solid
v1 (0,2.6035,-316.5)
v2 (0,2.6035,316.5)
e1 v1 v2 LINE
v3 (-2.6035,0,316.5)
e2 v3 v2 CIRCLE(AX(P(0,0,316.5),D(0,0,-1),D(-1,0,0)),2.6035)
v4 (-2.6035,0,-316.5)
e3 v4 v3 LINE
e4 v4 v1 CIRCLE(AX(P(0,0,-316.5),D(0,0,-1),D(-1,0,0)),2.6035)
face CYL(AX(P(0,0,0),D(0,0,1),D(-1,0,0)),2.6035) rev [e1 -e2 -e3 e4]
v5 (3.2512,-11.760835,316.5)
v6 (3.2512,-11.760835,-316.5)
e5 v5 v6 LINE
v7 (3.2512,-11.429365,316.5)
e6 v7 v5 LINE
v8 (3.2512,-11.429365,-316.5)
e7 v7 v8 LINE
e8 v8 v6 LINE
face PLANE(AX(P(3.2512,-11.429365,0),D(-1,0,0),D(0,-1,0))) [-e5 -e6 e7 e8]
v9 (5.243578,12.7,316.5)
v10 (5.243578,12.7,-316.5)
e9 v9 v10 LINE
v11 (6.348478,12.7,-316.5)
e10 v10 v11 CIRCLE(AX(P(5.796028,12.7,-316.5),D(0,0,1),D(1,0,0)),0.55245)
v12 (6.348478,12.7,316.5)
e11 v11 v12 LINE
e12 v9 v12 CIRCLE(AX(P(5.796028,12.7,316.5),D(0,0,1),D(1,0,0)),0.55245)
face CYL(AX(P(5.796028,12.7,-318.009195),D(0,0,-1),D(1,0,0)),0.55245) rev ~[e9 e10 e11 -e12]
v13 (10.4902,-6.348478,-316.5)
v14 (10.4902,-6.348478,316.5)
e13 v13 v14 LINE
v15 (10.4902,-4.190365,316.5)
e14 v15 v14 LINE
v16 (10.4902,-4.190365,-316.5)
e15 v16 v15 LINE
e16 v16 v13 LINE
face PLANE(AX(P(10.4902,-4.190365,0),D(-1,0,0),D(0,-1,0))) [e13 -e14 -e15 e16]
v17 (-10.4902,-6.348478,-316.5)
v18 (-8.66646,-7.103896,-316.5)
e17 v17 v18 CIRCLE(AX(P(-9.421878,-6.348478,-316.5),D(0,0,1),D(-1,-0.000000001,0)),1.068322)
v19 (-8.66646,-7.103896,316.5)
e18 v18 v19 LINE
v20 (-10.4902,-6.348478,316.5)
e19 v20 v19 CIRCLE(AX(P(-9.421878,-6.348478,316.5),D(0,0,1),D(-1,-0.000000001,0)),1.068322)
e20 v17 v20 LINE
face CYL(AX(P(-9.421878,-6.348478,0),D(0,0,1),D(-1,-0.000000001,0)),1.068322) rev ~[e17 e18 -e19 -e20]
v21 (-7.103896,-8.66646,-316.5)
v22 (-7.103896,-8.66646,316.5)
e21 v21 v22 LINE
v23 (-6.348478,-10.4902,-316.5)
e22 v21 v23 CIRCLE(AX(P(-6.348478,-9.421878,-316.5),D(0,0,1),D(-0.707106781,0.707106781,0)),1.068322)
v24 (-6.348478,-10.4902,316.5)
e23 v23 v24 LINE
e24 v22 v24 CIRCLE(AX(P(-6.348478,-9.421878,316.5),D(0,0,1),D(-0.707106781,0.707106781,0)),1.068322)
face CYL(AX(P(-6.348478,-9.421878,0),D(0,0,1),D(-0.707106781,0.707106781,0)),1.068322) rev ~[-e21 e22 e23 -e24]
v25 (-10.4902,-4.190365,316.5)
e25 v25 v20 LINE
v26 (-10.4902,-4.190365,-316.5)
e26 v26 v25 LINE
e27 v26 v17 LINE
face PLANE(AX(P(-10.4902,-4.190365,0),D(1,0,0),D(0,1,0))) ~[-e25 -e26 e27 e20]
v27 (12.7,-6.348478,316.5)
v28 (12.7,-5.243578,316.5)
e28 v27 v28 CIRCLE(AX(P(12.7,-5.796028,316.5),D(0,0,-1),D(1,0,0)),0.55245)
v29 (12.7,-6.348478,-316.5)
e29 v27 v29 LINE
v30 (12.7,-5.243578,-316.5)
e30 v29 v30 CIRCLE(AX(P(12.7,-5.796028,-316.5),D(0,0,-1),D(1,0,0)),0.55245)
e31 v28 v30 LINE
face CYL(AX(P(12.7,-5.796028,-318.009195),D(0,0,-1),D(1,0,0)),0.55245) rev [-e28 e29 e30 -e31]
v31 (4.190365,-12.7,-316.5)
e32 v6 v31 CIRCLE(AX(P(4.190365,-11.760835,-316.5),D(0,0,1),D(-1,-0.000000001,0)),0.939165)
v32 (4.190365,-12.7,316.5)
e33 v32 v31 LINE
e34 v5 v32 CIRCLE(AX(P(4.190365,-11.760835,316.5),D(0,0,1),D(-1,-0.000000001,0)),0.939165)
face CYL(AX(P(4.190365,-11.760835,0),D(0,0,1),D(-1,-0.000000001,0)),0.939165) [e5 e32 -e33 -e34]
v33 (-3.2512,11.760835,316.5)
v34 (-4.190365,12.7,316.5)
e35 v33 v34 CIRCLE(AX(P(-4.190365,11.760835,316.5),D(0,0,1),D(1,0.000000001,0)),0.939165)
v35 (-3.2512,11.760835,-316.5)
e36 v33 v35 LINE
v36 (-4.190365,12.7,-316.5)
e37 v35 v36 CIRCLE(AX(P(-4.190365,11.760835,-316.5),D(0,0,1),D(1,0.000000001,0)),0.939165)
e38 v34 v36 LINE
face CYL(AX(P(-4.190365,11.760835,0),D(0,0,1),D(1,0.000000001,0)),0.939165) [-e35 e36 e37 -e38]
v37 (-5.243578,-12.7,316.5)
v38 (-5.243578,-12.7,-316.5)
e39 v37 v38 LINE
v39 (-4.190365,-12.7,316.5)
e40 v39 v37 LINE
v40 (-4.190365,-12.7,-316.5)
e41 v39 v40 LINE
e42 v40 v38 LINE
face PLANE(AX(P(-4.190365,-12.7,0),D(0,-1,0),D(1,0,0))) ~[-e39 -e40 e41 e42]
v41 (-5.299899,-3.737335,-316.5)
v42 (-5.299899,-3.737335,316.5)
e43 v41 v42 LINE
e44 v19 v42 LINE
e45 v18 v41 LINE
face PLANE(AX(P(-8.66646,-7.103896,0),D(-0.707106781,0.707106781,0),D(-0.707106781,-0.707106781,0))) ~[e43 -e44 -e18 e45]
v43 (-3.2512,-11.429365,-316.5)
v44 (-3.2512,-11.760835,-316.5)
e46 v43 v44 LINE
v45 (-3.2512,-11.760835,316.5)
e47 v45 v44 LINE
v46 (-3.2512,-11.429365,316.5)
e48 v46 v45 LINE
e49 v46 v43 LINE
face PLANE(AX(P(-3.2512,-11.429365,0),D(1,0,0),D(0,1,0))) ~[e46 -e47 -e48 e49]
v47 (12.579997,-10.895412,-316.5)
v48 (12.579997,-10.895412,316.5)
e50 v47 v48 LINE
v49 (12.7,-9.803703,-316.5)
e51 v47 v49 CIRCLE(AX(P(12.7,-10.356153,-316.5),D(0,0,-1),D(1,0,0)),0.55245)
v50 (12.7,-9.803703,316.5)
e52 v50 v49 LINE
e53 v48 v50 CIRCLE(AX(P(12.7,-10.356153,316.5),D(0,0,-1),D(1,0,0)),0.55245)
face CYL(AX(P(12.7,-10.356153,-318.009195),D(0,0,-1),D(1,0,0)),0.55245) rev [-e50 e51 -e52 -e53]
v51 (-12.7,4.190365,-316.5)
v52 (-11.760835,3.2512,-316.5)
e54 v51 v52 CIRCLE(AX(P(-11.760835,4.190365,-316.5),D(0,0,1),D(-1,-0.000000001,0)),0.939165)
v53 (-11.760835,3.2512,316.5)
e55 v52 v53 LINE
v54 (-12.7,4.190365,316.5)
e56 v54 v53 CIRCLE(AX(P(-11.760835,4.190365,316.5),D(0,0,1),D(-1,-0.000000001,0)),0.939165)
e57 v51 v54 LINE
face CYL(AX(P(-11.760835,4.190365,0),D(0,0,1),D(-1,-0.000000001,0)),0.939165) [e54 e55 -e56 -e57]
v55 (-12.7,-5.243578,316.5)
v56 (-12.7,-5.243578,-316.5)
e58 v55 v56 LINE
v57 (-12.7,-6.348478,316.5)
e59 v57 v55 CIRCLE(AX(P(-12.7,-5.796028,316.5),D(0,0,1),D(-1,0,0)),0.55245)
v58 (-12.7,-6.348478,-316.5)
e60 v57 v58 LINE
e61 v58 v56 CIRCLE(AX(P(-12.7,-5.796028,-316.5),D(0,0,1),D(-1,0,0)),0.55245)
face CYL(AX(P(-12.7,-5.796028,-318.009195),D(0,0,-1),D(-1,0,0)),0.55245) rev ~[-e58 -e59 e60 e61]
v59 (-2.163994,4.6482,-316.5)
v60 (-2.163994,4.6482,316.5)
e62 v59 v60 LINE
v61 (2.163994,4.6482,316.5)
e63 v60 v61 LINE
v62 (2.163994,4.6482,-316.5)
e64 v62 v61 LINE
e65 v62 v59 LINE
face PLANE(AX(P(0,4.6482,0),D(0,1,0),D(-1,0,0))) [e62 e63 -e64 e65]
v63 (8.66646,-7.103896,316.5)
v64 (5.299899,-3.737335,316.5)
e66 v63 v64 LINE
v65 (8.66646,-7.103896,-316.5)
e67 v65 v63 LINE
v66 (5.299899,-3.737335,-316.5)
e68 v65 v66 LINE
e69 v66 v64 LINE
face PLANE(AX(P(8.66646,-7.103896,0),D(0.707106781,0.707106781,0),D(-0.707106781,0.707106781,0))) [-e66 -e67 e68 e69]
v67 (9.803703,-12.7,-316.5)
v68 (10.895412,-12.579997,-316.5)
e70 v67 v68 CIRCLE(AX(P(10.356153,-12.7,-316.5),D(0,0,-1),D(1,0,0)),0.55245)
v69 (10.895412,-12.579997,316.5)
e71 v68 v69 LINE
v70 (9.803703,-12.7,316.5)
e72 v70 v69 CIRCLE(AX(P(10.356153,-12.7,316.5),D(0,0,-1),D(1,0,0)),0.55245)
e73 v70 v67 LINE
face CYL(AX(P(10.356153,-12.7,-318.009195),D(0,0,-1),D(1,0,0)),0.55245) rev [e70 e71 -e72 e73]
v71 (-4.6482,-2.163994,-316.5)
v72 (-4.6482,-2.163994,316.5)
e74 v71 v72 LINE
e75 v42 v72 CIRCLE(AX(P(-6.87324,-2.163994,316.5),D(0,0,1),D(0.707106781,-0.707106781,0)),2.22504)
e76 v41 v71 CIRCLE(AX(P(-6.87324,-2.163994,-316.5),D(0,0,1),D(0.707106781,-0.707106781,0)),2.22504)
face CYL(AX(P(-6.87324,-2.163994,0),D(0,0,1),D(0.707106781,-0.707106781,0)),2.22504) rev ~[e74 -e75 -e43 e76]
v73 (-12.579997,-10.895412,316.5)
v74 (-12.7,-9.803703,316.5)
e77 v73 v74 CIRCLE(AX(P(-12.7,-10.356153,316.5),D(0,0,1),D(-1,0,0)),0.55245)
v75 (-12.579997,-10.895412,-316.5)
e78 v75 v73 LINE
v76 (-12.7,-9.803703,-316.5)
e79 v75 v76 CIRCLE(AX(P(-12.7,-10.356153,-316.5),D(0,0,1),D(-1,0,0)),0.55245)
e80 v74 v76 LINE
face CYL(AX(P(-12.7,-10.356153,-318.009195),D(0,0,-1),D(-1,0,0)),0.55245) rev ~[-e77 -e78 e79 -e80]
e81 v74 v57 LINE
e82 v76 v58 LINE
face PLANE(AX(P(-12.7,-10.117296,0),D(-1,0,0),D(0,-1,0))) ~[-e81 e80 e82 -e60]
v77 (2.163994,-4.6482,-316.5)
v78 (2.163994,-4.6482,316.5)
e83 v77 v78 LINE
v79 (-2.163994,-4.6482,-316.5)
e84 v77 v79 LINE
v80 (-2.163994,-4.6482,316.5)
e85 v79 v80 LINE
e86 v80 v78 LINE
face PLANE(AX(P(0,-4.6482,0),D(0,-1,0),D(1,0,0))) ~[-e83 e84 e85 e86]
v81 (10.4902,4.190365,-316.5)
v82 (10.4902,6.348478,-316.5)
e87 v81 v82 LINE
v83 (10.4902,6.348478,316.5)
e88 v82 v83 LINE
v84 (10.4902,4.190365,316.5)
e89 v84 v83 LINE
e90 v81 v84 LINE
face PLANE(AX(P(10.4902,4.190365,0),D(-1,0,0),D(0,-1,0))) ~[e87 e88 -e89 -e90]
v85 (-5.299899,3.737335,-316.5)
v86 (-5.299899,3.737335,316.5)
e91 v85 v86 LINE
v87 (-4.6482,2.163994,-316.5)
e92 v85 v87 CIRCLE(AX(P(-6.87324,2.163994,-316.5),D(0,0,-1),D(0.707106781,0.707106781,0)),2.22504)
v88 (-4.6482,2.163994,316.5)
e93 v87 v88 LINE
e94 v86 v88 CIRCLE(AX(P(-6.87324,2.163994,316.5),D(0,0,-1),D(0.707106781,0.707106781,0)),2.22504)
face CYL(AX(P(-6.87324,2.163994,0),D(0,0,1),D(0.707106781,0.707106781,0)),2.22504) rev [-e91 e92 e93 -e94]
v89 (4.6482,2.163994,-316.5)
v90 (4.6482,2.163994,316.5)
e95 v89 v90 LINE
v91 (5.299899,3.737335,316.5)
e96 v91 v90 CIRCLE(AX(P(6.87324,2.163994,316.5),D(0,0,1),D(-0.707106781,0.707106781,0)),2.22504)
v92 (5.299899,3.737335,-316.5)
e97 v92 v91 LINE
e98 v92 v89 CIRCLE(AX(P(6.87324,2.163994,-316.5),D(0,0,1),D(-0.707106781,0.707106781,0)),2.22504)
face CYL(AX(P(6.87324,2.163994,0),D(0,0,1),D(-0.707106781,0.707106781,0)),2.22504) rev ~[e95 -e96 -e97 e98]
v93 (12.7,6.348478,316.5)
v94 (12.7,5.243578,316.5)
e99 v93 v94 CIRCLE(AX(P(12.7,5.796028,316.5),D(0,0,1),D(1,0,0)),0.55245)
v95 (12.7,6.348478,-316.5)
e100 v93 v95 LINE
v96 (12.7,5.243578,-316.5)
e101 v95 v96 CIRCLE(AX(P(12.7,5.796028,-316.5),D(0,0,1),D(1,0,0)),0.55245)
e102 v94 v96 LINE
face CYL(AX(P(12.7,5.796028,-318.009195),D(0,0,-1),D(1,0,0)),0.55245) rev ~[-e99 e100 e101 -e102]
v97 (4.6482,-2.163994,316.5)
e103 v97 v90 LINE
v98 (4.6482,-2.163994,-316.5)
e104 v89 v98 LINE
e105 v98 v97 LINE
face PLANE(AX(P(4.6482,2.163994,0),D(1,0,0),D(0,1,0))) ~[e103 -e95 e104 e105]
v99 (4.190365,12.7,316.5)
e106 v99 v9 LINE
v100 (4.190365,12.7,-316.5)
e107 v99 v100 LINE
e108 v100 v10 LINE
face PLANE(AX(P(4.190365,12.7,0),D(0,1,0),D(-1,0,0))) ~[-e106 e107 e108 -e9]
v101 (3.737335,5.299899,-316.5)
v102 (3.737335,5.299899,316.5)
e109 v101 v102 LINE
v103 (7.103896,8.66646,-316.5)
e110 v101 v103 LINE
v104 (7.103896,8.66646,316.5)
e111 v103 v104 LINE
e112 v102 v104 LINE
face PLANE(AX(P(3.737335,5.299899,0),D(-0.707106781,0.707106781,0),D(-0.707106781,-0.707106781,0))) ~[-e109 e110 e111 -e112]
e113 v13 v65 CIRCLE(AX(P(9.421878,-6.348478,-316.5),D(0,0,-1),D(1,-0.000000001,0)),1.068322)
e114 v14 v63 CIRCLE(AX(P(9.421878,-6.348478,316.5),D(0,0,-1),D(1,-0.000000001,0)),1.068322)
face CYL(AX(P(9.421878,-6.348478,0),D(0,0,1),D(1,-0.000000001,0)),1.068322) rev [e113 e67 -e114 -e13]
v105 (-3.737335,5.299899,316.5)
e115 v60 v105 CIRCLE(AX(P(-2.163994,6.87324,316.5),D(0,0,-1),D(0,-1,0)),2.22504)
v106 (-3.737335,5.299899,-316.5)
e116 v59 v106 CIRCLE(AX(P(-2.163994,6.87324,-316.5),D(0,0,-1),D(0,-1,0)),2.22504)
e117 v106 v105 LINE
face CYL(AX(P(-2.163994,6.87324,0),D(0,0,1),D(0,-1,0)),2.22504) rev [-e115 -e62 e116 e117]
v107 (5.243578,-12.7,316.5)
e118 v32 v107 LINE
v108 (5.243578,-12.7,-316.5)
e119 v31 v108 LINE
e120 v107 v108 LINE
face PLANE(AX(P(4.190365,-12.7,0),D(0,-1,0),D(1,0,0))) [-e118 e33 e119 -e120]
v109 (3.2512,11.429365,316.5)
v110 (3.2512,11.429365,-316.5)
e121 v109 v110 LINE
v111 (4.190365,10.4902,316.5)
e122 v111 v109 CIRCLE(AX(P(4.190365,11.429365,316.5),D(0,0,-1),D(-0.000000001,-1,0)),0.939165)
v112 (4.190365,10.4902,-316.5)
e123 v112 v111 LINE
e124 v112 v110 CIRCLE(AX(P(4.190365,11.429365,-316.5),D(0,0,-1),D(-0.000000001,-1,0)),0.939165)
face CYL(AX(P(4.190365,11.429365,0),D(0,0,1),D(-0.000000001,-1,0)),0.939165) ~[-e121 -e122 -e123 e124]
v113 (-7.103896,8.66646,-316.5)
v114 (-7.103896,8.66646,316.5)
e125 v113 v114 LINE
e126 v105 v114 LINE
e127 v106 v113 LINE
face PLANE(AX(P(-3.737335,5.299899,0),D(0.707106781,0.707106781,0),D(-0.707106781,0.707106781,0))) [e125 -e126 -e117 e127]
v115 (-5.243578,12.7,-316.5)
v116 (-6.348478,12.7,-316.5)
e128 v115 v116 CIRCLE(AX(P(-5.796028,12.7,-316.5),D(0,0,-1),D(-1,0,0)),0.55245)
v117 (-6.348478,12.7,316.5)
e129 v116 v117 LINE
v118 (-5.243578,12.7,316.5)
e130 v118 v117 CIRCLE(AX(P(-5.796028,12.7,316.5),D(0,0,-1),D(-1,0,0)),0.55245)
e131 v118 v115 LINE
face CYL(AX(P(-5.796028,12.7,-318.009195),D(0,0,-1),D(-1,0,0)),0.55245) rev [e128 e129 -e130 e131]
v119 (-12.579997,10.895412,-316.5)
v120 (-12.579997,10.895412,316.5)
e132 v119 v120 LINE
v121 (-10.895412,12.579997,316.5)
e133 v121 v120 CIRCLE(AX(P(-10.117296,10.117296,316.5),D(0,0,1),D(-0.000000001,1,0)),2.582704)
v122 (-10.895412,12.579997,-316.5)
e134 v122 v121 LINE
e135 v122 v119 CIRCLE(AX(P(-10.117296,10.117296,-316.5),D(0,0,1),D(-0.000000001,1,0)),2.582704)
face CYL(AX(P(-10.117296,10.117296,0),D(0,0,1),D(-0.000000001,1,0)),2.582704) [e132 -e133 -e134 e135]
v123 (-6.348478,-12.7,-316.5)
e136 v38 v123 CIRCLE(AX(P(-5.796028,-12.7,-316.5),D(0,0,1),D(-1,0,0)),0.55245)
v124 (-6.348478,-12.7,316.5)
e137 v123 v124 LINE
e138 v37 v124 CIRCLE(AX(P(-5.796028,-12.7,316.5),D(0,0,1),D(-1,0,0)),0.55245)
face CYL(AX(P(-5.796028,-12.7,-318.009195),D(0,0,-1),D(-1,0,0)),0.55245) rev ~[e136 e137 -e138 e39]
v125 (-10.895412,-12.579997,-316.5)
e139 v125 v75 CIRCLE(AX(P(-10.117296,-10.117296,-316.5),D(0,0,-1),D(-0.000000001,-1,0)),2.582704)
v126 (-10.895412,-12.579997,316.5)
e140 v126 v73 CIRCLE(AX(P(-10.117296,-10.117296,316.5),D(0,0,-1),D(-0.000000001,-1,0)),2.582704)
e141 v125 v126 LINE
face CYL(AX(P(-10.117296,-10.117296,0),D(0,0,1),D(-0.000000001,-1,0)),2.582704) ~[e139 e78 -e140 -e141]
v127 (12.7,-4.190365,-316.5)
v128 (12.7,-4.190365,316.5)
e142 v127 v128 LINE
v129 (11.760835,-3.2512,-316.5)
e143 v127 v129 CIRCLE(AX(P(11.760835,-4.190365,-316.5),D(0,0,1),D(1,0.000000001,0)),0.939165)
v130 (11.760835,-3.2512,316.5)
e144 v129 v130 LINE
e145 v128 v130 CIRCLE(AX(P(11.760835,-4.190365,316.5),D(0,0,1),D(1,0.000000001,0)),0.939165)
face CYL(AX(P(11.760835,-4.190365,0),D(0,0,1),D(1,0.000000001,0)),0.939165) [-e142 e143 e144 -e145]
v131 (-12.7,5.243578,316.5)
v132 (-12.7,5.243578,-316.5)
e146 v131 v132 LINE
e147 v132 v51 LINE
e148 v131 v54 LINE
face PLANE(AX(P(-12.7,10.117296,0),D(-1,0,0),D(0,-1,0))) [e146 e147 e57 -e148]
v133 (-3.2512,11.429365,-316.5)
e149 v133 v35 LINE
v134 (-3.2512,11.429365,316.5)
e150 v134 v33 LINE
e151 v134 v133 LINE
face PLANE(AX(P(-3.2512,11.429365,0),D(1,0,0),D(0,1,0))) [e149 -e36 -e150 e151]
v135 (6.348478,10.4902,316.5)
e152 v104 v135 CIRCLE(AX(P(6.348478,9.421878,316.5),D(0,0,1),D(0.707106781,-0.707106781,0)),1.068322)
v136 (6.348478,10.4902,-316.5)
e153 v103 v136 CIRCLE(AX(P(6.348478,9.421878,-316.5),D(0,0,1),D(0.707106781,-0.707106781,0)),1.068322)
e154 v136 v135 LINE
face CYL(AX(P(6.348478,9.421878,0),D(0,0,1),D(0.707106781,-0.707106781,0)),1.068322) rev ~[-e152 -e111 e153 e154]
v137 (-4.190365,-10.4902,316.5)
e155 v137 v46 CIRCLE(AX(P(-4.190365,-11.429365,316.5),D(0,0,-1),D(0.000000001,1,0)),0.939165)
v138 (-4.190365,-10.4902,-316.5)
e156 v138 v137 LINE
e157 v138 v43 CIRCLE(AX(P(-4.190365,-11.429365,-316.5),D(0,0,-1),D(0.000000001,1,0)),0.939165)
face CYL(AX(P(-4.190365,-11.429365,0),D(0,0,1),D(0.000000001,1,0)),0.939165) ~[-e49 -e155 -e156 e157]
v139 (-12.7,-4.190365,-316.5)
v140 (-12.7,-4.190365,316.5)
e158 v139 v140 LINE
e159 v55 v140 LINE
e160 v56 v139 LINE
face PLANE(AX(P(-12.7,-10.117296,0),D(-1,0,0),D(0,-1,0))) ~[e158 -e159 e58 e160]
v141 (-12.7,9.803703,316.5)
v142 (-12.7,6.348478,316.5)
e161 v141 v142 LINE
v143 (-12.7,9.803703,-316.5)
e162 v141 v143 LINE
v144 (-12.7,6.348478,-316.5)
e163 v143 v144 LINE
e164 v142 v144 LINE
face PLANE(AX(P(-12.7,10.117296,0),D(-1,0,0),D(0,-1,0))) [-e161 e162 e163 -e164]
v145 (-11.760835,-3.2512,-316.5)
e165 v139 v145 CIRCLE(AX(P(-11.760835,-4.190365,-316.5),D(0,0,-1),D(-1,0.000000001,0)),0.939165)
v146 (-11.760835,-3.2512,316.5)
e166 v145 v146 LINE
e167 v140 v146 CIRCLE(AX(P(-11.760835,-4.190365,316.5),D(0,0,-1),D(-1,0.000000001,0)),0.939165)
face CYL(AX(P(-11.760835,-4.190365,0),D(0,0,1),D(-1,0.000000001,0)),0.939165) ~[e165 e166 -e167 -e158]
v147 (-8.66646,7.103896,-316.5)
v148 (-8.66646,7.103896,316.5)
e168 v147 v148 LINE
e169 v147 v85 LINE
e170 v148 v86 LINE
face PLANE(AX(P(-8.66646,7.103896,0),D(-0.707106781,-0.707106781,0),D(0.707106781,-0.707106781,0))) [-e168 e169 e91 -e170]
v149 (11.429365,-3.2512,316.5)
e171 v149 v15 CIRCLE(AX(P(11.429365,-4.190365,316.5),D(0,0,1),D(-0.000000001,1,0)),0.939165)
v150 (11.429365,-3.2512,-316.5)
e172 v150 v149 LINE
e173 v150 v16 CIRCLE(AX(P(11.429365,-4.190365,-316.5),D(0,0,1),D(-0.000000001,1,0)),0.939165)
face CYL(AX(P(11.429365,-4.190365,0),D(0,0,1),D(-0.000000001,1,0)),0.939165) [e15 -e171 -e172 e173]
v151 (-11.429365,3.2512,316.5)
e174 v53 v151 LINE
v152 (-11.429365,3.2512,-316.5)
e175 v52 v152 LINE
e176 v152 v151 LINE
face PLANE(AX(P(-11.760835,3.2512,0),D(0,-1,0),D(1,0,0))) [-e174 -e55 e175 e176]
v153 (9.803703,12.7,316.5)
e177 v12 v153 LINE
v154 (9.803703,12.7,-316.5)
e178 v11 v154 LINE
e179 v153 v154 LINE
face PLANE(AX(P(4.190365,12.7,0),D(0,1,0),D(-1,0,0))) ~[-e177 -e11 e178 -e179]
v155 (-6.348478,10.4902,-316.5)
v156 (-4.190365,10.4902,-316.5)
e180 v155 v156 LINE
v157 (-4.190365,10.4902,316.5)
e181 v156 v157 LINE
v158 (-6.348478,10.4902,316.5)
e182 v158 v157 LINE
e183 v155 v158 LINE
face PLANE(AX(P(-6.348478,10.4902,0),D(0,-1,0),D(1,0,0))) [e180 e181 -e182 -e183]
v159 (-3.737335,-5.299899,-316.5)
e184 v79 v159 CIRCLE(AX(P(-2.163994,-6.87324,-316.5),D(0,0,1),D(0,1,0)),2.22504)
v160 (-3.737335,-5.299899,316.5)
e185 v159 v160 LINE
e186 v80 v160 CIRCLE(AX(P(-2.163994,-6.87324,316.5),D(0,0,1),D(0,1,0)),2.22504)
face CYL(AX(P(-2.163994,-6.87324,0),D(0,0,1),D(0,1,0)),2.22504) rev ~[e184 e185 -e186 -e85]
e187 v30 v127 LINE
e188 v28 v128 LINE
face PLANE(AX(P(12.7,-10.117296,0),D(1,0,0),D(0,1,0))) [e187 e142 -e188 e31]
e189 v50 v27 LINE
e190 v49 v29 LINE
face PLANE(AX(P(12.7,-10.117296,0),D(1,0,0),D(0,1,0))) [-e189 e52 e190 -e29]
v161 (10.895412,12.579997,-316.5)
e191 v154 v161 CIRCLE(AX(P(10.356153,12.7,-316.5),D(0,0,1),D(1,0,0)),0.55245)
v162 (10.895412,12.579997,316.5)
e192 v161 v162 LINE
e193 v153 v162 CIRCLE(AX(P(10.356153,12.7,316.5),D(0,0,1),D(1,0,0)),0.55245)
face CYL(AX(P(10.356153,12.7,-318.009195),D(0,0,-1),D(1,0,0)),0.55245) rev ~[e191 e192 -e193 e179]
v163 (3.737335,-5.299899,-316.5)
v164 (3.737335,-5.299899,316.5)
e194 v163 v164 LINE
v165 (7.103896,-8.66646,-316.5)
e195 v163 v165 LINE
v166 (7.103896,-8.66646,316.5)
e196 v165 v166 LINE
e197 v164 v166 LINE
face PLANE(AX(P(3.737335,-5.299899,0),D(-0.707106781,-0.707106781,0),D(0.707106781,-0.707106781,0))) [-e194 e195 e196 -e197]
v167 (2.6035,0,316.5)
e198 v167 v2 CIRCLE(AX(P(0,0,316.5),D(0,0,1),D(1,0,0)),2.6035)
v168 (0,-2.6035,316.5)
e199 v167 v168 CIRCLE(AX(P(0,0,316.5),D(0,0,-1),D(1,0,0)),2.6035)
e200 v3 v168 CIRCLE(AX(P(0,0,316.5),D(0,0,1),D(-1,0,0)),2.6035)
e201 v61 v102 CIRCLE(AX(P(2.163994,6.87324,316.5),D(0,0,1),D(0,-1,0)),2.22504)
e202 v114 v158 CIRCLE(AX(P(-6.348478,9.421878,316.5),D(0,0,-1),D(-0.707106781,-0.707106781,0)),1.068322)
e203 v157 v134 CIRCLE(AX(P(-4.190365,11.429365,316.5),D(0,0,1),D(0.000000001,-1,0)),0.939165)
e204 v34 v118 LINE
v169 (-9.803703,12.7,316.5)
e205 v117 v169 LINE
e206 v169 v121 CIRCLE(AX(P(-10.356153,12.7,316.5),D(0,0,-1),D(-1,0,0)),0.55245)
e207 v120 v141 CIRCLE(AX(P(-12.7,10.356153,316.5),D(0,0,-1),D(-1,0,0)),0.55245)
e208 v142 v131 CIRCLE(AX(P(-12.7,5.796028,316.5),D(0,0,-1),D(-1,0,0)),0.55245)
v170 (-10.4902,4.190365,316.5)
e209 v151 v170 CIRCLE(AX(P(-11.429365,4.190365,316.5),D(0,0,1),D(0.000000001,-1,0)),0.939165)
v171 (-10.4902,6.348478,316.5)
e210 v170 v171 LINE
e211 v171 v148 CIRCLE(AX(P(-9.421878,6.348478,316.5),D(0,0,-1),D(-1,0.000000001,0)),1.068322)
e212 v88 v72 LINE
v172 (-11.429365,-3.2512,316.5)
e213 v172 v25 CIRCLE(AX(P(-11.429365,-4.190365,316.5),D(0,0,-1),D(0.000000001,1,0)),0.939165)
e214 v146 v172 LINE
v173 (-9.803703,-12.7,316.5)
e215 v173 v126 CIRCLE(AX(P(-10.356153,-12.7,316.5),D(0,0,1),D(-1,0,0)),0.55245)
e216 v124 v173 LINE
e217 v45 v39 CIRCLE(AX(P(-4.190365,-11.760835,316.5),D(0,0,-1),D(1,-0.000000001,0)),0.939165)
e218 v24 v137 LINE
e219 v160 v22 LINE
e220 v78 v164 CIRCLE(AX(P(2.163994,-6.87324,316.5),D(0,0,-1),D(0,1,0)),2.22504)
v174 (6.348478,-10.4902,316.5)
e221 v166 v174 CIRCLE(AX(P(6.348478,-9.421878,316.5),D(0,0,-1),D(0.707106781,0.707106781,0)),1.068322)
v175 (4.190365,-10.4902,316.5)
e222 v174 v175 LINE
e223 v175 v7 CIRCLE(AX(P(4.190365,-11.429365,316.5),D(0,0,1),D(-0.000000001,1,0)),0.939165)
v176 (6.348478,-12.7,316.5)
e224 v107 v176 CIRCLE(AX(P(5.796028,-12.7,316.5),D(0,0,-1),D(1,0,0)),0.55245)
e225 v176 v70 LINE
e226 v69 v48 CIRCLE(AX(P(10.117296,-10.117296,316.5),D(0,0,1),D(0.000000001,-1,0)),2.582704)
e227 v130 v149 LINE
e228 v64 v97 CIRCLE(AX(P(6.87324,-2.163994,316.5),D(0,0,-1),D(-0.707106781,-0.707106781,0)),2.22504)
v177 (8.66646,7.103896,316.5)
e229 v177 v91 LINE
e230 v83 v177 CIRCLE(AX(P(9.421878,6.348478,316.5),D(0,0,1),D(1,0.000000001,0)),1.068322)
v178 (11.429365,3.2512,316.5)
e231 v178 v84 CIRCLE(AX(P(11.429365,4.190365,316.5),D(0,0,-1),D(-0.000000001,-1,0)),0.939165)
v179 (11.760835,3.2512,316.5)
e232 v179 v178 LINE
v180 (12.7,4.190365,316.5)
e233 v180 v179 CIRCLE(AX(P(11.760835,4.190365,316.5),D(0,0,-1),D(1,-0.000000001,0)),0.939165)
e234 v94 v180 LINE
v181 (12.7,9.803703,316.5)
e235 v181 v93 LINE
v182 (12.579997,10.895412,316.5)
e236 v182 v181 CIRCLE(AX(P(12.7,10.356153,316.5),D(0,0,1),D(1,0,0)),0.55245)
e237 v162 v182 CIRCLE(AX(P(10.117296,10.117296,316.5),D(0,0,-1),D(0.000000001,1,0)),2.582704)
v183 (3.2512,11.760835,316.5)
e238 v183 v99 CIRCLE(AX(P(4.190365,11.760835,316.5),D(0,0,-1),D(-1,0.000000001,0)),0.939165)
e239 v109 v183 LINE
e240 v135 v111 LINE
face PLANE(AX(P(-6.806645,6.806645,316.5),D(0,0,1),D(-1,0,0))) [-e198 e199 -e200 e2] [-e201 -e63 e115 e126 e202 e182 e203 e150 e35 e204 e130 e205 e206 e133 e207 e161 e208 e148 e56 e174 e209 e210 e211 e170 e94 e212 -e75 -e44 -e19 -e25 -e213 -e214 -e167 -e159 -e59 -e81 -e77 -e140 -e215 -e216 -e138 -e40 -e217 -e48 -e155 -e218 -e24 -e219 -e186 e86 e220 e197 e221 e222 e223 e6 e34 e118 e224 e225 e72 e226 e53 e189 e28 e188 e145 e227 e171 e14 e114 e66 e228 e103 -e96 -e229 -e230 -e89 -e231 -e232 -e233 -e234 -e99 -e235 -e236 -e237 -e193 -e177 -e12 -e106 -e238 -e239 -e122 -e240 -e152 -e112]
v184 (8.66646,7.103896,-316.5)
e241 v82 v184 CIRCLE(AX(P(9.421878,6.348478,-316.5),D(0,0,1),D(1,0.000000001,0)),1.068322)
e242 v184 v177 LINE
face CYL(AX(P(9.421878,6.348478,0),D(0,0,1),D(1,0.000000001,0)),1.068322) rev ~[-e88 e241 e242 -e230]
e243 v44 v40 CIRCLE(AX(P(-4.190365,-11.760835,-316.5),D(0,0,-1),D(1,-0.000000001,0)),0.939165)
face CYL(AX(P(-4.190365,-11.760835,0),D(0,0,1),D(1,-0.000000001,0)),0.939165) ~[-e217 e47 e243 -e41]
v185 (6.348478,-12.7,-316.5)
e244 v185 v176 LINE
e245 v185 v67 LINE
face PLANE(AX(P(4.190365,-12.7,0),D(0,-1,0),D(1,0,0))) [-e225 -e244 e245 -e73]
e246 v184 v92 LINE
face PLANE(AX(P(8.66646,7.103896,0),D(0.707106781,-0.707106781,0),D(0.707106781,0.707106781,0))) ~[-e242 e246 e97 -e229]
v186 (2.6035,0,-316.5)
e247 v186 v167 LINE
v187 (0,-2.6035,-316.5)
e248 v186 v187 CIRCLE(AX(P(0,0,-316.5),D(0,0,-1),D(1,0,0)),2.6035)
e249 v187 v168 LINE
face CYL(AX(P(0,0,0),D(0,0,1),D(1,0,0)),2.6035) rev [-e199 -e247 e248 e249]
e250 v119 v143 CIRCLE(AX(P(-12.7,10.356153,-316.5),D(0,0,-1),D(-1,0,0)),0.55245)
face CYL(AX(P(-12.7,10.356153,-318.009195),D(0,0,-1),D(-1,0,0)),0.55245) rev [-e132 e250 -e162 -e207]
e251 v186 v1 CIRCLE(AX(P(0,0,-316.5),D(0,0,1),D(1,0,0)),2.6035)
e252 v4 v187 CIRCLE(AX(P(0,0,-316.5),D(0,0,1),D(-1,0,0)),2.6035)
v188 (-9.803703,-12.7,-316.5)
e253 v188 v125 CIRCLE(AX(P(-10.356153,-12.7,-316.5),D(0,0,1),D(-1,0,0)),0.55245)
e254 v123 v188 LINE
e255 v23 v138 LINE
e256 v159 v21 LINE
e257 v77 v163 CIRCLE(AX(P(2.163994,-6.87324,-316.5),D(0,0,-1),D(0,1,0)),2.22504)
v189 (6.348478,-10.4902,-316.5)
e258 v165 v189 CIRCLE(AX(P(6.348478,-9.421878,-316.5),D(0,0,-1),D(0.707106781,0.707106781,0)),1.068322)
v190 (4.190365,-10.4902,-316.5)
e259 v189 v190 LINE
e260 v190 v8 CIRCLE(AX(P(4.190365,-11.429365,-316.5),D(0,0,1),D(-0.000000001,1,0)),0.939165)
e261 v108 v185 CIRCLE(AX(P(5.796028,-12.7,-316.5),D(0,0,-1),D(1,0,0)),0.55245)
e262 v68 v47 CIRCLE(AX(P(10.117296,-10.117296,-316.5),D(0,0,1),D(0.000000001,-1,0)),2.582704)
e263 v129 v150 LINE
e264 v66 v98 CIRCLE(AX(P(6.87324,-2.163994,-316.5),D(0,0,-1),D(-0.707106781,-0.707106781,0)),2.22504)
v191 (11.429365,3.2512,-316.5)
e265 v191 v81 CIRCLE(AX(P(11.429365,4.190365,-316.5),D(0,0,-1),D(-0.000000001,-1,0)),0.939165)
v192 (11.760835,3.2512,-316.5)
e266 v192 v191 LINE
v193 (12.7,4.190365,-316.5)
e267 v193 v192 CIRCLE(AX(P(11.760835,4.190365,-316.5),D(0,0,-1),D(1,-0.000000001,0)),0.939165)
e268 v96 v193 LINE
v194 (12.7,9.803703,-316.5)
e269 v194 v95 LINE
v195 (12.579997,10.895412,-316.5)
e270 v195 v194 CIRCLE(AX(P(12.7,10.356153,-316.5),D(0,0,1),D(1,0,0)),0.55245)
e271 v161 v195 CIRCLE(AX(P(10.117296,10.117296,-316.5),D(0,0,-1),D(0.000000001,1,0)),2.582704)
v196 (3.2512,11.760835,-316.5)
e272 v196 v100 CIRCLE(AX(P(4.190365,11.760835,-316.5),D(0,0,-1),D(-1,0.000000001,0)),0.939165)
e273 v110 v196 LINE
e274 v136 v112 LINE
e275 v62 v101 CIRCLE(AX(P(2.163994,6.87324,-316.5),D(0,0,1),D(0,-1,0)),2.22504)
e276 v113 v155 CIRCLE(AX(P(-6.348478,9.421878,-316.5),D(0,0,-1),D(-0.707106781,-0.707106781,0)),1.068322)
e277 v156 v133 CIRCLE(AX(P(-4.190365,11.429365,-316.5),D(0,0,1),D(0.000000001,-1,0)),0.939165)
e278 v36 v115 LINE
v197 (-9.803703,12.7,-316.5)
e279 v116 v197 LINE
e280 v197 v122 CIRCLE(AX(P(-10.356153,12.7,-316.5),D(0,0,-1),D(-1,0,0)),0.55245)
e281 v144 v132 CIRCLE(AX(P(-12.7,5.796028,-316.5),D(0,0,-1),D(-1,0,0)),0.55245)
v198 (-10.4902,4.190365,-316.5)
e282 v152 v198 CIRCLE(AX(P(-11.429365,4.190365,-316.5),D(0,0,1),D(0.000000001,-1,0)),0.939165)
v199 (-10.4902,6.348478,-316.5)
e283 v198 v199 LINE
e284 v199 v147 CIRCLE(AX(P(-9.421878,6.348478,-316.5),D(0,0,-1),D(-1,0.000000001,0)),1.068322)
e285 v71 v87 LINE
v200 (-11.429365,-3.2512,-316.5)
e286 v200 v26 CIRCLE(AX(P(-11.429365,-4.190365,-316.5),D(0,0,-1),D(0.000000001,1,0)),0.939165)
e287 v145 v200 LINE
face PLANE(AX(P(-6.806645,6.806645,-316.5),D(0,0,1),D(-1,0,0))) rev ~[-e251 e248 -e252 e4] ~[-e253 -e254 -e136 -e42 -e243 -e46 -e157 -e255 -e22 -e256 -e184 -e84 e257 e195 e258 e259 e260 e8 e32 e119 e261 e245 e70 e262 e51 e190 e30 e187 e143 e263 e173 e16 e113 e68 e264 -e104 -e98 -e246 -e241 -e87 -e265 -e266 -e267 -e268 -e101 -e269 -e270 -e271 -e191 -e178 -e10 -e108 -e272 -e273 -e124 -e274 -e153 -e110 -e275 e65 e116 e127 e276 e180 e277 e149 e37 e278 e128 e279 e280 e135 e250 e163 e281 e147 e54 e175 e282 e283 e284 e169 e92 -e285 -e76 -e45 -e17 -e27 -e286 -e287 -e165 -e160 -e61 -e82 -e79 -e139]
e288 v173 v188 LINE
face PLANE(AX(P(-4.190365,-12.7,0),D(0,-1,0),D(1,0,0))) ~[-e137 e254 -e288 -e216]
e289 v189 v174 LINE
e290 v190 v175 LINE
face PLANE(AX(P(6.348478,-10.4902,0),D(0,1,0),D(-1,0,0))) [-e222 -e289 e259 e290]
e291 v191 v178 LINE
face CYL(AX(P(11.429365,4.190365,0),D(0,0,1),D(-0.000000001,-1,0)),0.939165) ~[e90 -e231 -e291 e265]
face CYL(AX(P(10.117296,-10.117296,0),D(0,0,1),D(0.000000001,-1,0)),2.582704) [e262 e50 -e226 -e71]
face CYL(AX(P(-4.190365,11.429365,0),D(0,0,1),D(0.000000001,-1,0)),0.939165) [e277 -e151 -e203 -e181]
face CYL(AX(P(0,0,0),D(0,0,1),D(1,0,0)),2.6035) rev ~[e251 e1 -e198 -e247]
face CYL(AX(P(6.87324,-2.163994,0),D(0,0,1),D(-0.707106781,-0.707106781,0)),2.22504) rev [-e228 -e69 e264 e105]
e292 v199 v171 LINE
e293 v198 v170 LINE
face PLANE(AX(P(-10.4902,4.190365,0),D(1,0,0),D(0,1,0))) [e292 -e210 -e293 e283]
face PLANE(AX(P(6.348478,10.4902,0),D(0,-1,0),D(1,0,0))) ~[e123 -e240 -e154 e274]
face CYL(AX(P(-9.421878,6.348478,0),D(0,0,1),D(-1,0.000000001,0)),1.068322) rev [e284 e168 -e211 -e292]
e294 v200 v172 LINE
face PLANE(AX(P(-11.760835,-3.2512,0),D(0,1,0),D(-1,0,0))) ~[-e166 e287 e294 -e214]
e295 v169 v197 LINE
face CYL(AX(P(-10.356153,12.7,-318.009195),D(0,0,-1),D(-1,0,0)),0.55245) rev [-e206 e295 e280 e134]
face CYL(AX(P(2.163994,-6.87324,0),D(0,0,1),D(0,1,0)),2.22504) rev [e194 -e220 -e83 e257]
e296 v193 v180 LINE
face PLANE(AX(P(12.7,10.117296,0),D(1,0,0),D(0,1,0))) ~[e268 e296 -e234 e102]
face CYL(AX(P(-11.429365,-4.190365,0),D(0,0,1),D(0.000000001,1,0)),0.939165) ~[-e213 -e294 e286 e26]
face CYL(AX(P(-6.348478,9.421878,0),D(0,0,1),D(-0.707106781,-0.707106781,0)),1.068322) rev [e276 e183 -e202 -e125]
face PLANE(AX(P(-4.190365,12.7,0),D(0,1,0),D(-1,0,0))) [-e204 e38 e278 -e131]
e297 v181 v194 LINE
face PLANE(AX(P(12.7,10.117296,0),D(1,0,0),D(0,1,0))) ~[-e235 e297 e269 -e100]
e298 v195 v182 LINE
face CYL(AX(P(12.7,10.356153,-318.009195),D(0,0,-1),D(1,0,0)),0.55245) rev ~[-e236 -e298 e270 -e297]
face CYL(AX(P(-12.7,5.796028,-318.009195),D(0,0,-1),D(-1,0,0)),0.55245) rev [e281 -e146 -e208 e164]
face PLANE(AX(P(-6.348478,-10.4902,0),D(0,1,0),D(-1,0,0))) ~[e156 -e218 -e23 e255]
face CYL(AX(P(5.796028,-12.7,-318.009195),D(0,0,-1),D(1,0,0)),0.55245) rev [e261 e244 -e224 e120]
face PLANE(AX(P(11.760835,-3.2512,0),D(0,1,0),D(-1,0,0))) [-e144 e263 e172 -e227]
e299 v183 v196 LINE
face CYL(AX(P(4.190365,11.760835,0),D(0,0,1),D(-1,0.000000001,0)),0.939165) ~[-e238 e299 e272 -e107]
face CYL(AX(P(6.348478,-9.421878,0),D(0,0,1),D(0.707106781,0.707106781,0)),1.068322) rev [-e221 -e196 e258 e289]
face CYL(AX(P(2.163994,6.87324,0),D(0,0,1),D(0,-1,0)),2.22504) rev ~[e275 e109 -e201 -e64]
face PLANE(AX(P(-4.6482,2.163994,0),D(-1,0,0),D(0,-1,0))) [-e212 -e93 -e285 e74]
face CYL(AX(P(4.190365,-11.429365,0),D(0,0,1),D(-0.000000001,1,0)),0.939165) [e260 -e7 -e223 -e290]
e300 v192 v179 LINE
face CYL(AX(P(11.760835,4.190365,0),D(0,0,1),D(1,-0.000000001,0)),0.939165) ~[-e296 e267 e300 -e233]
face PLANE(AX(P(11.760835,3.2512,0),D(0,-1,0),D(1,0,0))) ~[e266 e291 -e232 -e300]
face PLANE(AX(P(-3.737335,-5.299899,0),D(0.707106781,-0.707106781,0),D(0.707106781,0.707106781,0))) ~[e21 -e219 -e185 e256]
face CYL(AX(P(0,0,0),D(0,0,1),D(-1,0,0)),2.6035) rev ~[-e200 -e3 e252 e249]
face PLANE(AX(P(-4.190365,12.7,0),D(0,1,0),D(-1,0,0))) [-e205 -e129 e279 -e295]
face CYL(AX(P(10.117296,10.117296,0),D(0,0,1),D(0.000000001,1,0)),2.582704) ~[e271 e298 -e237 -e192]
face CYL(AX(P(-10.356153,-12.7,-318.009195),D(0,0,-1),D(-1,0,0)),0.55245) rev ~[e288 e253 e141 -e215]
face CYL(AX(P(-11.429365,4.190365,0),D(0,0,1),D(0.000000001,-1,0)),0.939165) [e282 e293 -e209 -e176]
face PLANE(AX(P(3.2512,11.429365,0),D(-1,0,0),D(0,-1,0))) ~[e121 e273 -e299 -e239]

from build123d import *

# Parameters (mm, degrees)
BOSS_EXTRUDE1_DEPTH     = 316.5
CUT_EXTRUDE1_DEPTH      = 318.00919545
CUT_EXTRUDE1_DEPTH_BACK = 318.00919545
SKETCH5_R               = 0.55245


with BuildPart() as part:
    # Sketch4 → Boss-Extrude1 (new, symmetric)
    with BuildSketch(Plane.XY):
        with BuildLine():
            Line((4.190365, -12.7), (10.11729625, -12.7))
            ThreePointArc((10.11729625, -12.7), (11.943543585, -11.943543585), (12.7, -10.11729625))
            Line((12.7, -10.11729625), (12.7, -4.190365))
            ThreePointArc((12.7, -4.190365), (12.42492494, -3.52627506), (11.760835, -3.2512))
            Line((11.760835, -3.2512), (11.429365, -3.2512))
            ThreePointArc((11.429365, -3.2512), (10.76527506, -3.52627506), (10.4902, -4.190365))
            Line((10.4902, -4.190365), (10.4902, -6.348478019))
            ThreePointArc((10.4902, -6.348478019), (9.830707141, -7.335478831), (8.666460301, -7.103895736))
            Line((8.666460301, -7.103895736), (5.299899128, -3.737334563))
            ThreePointArc((5.299899128, -3.737334563), (4.817571085, -3.015479634), (4.6482, -2.16399369))
            Line((4.6482, -2.16399369), (4.6482, 0))
            Line((4.6482, 0), (2.6035, 0))
            ThreePointArc((2.6035, 0), (1.840952505, -1.840952505), (0, -2.6035))
            Line((0, -2.6035), (0, -4.6482))
            Line((0, -4.6482), (2.16399369, -4.6482))
            ThreePointArc((2.16399369, -4.6482), (3.015479634, -4.817571085), (3.737334563, -5.299899128))
            Line((3.737334563, -5.299899128), (7.103895736, -8.666460301))
            ThreePointArc((7.103895736, -8.666460301), (7.335478831, -9.830707141), (6.348478019, -10.4902))
            Line((6.348478019, -10.4902), (4.190365, -10.4902))
            ThreePointArc((4.190365, -10.4902), (3.52627506, -10.76527506), (3.2512, -11.429365))
            Line((3.2512, -11.429365), (3.2512, -11.760835))
            ThreePointArc((3.2512, -11.760835), (3.52627506, -12.42492494), (4.190365, -12.7))
        make_face()
    extrude(amount=BOSS_EXTRUDE1_DEPTH, both=True)

    # Sketch5 → Cut-Extrude1 (cut, two sides: drawn at the far end of the back side and taken through both)
    with BuildSketch(Plane.XY.offset(-CUT_EXTRUDE1_DEPTH_BACK)):
        with Locations((10.356153152, -12.7)):
            Circle(SKETCH5_R)
        with Locations((5.796028019, -12.7)):
            Circle(SKETCH5_R)
        with Locations((12.7, -10.356153152)):
            Circle(SKETCH5_R)
        with Locations((12.7, -5.796028019)):
            Circle(SKETCH5_R)
    extrude(amount=CUT_EXTRUDE1_DEPTH + CUT_EXTRUDE1_DEPTH_BACK, mode=Mode.SUBTRACT)

    # Mirror1: part across plane


with BuildPart() as part_1:
    add(part.part)
    add(part.part.mirror(Plane(origin=(0, 0, 0), x_dir=(0, 0, 1), z_dir=(1, 0, 0))))

    # Mirror2: part across plane


with BuildPart() as part_2:
    add(part_1.part)
    add(part_1.part.mirror(Plane.ZX))


solid = part_2.part
